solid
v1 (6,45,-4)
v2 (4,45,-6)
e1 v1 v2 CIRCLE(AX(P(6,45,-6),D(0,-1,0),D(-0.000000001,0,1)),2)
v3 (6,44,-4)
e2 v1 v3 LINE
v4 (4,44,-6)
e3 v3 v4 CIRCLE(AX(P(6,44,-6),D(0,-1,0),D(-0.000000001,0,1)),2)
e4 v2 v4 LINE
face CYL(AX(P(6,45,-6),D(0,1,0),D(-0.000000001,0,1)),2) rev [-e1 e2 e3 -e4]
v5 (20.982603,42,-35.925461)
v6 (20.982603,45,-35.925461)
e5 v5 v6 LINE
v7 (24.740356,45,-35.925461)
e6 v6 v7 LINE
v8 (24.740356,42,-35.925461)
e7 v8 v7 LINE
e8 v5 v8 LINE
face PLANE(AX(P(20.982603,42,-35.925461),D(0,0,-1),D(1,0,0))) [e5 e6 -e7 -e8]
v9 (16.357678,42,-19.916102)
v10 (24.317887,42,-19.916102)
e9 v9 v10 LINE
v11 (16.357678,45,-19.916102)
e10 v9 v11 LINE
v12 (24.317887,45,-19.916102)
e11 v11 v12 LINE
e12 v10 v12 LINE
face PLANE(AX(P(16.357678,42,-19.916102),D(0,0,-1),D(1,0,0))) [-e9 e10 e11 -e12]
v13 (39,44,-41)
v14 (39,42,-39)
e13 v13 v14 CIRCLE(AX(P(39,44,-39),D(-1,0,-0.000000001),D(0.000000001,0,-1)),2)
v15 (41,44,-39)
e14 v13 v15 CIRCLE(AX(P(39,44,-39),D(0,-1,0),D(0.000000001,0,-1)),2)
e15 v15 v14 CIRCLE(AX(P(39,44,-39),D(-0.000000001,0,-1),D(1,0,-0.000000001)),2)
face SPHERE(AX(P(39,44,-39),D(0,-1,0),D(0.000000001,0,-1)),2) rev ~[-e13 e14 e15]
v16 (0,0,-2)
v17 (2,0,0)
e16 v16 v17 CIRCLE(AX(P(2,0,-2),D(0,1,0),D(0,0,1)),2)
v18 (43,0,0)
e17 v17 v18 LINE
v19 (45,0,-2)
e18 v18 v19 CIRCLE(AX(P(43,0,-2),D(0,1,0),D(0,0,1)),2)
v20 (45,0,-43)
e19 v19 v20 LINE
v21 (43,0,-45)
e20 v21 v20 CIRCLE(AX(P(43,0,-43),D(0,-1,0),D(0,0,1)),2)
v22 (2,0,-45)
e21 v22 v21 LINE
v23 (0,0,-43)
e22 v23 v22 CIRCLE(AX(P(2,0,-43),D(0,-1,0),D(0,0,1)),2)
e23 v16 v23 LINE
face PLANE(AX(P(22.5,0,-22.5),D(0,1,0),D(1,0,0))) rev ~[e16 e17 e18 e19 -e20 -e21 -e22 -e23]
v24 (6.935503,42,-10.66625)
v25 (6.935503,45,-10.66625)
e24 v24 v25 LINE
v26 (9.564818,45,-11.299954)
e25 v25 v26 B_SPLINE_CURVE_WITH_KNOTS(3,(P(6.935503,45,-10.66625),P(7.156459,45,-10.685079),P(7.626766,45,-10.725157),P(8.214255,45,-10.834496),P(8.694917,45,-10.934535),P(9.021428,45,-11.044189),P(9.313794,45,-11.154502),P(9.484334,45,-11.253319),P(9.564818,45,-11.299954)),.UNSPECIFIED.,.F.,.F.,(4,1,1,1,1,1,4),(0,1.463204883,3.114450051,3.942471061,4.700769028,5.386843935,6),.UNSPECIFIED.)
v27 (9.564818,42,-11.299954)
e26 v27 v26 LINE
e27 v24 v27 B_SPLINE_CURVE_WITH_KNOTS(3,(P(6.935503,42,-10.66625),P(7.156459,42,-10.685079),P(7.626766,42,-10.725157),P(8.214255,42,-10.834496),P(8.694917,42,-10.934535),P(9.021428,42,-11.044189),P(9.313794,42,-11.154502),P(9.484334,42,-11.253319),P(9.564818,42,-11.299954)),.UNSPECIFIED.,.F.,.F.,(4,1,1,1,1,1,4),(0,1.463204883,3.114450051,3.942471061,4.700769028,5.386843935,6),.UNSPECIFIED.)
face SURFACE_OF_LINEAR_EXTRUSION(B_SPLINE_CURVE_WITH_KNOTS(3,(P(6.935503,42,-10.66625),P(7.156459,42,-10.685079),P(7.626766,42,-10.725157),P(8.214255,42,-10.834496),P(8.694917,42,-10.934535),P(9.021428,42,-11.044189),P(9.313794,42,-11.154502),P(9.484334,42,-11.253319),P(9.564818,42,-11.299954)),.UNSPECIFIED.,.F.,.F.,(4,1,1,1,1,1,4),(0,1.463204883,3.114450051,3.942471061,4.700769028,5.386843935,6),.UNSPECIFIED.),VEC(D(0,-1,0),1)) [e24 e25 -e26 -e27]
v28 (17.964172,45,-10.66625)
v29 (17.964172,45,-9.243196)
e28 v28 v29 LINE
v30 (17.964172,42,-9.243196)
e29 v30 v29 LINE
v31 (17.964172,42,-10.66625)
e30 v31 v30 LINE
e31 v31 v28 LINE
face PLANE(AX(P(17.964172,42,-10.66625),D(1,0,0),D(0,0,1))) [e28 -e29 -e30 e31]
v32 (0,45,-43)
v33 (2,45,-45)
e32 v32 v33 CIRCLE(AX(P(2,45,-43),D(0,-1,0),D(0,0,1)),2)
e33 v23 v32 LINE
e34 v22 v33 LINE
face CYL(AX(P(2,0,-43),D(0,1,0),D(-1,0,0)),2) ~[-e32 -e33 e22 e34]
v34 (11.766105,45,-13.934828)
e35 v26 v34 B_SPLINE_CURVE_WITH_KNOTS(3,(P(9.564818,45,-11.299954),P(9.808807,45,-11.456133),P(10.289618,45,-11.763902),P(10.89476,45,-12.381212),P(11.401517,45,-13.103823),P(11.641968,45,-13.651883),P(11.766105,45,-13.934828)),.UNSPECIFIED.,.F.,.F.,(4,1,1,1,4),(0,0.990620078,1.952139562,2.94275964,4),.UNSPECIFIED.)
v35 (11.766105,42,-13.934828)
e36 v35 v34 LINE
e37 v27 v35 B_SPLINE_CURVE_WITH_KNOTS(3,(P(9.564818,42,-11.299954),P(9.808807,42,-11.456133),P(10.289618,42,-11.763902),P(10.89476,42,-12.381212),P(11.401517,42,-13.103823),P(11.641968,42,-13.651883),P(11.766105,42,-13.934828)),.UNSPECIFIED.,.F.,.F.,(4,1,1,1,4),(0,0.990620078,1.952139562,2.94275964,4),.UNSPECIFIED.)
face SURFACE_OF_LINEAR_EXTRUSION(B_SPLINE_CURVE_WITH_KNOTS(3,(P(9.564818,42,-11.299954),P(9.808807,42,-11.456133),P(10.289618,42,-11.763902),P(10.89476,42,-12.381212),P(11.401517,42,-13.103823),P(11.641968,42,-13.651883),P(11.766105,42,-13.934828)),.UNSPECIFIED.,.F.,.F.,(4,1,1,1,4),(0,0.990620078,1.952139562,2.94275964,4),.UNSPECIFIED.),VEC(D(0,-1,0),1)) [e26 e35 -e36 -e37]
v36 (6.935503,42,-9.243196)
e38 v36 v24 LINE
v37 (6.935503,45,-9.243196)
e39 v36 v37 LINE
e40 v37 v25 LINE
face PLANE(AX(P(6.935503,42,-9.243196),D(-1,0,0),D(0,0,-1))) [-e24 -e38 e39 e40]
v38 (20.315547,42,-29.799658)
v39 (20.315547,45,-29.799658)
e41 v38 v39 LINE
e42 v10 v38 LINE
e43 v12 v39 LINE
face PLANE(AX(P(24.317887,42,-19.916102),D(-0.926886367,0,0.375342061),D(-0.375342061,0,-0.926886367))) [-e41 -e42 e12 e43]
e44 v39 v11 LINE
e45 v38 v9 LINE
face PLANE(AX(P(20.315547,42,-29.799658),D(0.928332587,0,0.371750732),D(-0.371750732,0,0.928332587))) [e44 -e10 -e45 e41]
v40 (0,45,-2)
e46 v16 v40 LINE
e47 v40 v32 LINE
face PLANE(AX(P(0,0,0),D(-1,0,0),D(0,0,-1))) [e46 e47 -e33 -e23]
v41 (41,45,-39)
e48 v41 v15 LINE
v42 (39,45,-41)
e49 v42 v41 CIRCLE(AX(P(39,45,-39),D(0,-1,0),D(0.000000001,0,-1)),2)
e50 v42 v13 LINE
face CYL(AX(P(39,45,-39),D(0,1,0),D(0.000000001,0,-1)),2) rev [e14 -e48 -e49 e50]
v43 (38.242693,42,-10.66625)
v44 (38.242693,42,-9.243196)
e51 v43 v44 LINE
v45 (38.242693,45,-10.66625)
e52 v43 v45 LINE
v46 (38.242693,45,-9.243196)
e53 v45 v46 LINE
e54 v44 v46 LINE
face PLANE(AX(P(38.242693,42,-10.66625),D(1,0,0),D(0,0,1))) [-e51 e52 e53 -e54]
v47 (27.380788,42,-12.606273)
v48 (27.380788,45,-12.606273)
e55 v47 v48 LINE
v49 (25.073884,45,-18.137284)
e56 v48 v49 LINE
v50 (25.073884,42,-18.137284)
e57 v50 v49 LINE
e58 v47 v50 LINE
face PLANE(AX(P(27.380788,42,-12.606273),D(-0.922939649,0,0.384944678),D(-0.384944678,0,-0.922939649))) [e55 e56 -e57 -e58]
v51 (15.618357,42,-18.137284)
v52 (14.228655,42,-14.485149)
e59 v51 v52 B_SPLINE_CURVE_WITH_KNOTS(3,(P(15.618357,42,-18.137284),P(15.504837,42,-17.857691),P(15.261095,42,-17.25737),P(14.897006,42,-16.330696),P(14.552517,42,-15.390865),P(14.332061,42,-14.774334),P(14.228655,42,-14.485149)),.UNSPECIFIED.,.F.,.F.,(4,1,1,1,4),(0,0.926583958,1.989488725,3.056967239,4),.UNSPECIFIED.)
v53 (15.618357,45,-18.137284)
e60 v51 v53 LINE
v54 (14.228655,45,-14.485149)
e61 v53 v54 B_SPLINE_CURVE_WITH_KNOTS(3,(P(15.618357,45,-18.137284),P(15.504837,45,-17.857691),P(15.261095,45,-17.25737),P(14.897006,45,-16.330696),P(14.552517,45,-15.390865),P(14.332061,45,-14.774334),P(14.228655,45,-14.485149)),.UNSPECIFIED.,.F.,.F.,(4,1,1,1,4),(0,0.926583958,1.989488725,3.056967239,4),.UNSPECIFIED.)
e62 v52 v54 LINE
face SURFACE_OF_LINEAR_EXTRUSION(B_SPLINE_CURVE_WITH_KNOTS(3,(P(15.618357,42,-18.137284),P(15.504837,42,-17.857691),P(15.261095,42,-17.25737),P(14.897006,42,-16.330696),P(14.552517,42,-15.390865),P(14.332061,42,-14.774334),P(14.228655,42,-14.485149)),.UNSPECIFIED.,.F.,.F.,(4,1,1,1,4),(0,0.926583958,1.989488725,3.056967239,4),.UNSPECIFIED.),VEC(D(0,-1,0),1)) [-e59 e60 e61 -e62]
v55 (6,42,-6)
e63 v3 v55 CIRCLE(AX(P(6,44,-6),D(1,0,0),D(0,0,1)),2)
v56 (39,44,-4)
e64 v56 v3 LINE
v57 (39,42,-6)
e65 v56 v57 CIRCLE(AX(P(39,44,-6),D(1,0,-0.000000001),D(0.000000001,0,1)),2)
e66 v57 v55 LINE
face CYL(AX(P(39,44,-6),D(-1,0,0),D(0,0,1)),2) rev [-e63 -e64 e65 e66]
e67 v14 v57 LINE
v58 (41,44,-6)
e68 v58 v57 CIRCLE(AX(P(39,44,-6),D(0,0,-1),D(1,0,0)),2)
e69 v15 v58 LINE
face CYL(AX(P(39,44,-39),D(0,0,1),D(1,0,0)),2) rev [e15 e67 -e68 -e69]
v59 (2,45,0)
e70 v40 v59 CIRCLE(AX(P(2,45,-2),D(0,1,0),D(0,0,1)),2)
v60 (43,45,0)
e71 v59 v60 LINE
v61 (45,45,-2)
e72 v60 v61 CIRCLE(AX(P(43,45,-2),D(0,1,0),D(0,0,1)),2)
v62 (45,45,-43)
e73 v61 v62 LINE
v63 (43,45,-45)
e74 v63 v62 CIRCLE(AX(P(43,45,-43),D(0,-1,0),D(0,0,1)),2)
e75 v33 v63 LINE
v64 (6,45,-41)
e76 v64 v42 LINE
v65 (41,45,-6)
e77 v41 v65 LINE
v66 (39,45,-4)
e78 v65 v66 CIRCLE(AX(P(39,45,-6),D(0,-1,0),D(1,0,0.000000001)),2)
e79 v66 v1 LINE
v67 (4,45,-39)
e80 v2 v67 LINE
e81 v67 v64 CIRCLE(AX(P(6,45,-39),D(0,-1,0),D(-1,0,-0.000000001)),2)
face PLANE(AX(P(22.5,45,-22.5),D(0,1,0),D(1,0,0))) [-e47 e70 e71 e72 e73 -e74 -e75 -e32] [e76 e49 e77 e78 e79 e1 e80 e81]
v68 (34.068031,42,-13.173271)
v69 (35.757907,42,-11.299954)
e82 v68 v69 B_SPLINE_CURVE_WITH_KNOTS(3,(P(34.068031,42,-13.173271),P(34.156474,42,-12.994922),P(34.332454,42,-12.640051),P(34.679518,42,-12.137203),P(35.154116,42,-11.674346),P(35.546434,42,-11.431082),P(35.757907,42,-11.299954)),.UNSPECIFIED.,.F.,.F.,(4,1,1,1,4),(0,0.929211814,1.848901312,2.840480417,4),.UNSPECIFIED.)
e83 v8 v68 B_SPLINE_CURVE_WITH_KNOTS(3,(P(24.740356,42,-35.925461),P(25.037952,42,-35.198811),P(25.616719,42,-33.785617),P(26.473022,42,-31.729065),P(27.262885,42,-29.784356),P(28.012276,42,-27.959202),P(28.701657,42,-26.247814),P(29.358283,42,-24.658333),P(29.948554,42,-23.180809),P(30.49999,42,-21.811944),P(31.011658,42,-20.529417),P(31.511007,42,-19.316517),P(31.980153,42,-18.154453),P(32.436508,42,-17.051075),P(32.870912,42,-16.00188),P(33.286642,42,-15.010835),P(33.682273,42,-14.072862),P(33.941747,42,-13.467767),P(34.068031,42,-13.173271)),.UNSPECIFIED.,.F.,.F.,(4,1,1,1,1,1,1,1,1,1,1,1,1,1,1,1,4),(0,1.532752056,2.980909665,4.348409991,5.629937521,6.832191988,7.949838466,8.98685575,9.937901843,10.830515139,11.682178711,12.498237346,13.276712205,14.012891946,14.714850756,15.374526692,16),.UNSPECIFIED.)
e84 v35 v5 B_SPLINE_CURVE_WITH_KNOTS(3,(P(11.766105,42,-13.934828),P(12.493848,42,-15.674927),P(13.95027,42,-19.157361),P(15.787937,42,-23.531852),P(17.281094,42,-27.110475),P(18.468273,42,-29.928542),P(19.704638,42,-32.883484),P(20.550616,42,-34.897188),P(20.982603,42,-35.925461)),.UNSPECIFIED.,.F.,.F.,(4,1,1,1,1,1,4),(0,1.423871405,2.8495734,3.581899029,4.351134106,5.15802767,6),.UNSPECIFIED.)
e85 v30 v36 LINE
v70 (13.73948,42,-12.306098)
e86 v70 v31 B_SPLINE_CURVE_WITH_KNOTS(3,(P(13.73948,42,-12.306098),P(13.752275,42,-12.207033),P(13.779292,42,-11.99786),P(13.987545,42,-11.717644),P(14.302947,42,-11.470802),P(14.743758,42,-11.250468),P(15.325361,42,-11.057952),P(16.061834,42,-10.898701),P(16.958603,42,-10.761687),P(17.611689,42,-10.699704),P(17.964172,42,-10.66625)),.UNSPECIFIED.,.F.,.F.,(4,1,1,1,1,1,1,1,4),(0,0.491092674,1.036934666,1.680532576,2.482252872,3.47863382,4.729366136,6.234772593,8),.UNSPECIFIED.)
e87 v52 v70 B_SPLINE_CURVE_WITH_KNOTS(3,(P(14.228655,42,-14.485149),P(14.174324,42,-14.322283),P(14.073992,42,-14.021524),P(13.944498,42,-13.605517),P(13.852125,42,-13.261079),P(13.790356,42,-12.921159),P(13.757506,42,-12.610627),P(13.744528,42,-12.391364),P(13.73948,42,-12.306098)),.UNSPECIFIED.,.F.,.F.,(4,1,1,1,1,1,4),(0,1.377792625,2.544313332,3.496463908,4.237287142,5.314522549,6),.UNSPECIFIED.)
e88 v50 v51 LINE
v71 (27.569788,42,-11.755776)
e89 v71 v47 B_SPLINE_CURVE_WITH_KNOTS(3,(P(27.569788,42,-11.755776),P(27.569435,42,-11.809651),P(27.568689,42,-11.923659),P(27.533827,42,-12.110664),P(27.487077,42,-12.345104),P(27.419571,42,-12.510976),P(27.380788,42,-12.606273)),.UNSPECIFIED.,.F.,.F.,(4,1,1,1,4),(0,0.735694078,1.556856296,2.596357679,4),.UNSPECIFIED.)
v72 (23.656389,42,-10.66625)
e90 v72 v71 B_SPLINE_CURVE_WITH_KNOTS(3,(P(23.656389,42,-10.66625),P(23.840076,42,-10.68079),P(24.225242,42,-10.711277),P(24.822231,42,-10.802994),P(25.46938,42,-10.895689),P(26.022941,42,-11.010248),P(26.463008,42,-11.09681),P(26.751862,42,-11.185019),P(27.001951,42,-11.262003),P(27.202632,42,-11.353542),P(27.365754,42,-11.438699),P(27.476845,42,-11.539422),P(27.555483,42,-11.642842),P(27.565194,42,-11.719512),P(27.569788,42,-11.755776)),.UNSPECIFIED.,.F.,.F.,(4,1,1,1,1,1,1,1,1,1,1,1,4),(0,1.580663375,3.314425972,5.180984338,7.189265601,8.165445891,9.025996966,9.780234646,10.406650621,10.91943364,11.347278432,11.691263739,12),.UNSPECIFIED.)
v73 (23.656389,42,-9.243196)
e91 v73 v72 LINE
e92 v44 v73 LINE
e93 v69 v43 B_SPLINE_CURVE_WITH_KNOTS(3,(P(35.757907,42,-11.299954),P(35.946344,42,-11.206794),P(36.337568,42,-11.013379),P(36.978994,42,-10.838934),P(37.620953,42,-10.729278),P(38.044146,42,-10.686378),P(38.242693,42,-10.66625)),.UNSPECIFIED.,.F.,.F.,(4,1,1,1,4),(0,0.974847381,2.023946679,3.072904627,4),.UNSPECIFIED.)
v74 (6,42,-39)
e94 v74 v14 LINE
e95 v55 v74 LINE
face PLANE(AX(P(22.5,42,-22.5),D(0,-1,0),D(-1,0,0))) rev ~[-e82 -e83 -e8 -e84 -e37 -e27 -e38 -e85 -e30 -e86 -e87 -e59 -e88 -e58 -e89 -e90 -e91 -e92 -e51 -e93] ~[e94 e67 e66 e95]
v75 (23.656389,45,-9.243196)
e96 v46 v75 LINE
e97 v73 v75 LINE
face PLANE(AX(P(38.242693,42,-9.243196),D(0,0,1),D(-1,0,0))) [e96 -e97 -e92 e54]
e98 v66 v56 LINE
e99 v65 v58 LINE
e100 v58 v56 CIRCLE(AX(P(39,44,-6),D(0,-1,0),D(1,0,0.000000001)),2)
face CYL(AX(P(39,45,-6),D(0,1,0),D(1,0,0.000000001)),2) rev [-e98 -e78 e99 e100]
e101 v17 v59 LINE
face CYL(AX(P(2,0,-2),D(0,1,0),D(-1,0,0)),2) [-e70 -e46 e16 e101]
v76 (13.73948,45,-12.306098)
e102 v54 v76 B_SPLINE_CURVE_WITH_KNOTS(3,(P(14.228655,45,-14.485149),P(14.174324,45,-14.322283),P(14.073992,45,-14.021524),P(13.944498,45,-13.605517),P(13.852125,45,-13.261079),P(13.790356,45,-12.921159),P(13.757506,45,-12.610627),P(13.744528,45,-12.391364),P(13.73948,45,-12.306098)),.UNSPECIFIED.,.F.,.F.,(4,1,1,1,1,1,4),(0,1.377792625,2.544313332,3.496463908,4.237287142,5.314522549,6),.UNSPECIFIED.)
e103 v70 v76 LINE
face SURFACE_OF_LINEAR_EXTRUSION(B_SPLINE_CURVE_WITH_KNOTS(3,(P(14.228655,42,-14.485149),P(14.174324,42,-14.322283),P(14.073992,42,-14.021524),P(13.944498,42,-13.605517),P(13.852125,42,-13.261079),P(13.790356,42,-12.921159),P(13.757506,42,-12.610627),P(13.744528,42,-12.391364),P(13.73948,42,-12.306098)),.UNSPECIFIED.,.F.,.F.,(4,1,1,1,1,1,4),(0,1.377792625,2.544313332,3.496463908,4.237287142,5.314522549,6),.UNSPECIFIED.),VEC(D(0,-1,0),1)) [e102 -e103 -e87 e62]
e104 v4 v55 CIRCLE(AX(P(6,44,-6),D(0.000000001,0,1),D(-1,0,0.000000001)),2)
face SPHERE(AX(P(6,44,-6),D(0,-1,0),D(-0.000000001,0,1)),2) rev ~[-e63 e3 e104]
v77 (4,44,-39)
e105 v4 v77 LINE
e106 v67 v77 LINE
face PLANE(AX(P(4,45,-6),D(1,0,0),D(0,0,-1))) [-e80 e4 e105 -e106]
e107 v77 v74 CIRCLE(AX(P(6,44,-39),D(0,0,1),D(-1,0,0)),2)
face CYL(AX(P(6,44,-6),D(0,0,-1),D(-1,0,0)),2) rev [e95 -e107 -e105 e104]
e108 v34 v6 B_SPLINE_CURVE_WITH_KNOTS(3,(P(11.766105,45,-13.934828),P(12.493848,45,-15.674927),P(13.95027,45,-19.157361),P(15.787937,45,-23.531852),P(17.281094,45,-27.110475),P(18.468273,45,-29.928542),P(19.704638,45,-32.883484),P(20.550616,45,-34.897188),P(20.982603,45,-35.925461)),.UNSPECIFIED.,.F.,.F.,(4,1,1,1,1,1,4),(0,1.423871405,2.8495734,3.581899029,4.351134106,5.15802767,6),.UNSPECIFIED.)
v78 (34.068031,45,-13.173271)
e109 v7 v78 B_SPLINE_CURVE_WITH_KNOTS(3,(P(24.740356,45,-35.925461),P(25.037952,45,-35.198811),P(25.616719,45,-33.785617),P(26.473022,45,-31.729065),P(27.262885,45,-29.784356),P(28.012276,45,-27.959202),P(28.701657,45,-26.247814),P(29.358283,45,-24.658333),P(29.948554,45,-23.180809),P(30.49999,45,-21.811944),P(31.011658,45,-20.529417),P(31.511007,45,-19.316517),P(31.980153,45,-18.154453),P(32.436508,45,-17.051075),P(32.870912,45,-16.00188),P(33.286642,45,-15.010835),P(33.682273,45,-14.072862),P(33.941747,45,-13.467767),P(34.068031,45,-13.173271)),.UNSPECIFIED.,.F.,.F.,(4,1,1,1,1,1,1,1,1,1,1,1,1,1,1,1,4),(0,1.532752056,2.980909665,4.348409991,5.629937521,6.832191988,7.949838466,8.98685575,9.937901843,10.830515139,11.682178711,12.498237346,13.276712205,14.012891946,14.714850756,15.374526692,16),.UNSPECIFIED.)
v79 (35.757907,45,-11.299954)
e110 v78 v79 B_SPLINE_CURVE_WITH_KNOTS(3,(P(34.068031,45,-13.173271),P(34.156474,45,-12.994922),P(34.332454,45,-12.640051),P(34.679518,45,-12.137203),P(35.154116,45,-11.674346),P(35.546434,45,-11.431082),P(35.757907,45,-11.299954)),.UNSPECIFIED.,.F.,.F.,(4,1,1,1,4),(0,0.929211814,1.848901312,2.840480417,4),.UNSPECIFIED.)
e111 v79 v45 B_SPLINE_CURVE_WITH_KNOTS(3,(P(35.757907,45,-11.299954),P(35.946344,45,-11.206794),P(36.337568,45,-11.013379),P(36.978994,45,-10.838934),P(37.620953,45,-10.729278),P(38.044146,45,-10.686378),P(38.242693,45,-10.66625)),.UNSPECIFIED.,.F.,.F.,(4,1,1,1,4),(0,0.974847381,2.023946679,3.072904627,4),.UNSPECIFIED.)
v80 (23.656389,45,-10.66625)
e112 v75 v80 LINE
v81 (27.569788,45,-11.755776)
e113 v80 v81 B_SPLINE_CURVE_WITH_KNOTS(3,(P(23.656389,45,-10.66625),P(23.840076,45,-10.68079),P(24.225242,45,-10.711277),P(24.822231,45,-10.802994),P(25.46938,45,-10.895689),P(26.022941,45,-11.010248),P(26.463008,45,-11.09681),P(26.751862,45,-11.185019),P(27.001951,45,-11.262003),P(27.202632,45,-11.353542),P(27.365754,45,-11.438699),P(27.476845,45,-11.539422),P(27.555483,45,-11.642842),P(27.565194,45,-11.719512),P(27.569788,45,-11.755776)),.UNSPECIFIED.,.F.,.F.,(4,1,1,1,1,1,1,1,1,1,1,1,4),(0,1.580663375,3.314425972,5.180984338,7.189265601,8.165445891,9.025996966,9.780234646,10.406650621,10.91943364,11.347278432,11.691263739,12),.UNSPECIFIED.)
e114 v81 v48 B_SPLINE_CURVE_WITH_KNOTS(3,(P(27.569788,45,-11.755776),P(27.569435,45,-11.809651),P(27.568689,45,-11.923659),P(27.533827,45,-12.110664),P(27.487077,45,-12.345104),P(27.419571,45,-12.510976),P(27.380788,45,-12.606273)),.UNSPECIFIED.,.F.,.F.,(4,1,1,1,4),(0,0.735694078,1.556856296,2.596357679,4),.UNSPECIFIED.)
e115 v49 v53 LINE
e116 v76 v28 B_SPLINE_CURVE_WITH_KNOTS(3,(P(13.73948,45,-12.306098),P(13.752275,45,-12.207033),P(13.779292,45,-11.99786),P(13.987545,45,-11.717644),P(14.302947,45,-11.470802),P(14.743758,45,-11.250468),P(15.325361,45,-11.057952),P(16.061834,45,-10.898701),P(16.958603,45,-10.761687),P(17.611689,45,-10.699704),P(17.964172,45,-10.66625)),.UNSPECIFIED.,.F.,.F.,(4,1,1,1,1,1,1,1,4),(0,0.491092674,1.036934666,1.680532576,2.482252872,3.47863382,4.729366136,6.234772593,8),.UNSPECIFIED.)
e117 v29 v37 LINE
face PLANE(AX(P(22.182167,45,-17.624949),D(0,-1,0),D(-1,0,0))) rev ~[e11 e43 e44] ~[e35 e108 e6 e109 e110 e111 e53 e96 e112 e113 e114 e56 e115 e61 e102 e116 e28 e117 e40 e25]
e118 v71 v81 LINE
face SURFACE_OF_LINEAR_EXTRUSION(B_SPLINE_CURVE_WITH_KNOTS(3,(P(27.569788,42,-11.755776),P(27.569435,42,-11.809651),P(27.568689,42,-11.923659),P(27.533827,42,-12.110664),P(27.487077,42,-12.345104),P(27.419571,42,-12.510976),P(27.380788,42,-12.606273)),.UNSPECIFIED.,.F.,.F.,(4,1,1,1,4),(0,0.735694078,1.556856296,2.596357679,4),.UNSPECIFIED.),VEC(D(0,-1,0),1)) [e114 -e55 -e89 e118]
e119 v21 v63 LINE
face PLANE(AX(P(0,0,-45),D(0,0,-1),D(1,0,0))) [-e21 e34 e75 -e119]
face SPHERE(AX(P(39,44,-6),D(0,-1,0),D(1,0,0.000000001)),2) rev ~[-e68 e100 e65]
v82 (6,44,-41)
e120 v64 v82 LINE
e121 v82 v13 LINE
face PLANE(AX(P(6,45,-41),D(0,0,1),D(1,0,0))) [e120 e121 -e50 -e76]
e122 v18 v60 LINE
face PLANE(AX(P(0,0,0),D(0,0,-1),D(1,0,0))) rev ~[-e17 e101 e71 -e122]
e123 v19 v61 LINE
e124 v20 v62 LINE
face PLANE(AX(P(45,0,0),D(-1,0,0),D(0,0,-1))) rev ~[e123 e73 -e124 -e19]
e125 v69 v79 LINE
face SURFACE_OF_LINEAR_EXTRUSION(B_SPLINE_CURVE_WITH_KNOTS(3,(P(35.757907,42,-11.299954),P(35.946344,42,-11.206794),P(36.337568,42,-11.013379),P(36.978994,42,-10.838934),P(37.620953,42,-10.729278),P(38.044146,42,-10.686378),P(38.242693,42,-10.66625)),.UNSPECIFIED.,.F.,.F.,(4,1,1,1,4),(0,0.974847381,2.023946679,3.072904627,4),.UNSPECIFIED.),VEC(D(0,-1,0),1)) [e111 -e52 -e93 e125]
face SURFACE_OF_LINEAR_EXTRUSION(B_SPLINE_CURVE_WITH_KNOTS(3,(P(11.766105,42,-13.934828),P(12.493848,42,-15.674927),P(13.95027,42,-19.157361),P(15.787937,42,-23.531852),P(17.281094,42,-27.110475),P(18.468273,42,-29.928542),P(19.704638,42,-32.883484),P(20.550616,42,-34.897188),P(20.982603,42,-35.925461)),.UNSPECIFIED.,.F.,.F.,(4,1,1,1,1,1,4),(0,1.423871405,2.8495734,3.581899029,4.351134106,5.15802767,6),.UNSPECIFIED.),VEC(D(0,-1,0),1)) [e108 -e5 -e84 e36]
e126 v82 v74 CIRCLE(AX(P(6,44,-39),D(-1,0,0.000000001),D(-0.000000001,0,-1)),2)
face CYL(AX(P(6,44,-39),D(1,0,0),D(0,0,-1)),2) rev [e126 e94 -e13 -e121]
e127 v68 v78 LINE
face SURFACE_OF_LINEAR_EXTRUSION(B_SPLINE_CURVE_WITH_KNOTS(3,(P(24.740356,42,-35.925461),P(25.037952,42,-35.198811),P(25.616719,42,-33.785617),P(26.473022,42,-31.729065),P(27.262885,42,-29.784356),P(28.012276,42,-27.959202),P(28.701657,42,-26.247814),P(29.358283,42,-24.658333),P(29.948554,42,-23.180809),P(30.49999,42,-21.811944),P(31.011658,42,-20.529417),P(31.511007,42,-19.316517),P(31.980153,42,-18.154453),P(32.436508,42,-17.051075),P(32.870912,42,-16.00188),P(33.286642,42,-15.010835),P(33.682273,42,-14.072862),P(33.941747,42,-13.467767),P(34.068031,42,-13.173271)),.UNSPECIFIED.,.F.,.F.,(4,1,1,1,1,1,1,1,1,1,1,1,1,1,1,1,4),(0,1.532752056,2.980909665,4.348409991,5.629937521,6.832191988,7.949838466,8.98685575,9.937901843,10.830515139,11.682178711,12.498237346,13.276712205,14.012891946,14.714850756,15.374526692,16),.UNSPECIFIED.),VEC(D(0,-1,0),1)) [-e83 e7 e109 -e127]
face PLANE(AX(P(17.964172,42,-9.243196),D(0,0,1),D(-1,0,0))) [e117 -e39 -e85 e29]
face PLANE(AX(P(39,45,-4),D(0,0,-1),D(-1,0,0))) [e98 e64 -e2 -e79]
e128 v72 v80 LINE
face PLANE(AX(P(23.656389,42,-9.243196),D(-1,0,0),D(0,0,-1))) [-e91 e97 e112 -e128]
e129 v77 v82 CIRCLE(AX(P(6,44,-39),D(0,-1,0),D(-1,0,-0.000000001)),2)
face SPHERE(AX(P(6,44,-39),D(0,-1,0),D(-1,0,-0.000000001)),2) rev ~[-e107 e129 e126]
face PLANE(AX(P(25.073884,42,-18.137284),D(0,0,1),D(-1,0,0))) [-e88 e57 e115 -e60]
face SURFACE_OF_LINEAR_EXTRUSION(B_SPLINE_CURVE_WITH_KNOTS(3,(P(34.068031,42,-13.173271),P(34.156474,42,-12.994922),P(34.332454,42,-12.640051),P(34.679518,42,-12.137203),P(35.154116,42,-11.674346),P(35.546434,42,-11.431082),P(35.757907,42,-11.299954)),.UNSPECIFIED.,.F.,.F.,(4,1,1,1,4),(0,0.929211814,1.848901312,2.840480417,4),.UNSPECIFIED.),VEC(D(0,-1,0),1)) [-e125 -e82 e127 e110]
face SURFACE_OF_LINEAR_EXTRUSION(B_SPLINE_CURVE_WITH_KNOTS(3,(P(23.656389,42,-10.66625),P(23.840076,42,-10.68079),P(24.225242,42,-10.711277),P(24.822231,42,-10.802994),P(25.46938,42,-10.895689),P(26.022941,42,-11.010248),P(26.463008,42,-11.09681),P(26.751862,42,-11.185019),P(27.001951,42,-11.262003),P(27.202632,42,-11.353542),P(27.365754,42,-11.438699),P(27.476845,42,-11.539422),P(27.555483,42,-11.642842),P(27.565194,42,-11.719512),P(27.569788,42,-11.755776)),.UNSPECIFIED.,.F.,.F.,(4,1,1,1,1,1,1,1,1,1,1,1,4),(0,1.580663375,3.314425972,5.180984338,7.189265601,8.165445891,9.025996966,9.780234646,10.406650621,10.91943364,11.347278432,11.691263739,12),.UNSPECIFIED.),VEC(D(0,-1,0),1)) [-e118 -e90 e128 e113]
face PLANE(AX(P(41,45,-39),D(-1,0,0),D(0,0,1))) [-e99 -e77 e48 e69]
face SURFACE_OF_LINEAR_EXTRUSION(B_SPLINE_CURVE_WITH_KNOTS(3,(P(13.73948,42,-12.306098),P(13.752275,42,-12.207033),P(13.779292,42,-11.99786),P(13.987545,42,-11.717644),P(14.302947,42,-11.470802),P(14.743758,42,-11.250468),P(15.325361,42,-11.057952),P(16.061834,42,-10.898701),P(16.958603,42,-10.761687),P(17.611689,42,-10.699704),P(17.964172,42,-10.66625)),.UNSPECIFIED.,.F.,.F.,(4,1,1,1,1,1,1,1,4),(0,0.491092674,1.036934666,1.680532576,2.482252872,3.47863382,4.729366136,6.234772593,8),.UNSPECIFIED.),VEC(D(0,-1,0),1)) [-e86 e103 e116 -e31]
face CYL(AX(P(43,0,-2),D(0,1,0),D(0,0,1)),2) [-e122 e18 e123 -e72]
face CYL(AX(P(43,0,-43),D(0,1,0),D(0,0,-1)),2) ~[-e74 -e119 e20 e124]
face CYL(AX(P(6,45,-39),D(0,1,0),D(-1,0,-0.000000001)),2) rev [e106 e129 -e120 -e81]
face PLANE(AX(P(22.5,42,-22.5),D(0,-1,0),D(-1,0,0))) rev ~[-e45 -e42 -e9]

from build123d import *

# Parameters (mm, degrees)
SKETCH1_W           = 45
SKETCH1_H           = 45
BOSS_EXTRUDE1_DEPTH = 45
CUT_EXTRUDE1_DEPTH  = 3
FILLET1_R           = 2
BOSS_EXTRUDE2_DEPTH = 3
FILLET2_R           = 2
FILLET3_R           = 2


with BuildPart() as part:
    # Sketch1 → Boss-Extrude1 (new body)
    with BuildSketch(Plane(origin=(0, 0, 0), x_dir=(1, 0, 0), z_dir=(0, 1, 0))):
        with Locations((22.5, 22.5)):
            Rectangle(SKETCH1_W, SKETCH1_H)
    extrude(amount=BOSS_EXTRUDE1_DEPTH)

    # Sketch2 → Cut-Extrude1 (cut)
    with BuildSketch(Plane(origin=(0, 45, 0), x_dir=(1, 0, 0), z_dir=(0, 1, 0))):
        with BuildLine():
            Line((6, 41), (39, 41))
            ThreePointArc((39, 41), (40.414213562, 40.414213562), (41, 39))
            Line((41, 39), (41, 6))
            ThreePointArc((41, 6), (40.414213562, 4.585786438), (39, 4))
            Line((39, 4), (6, 4))
            ThreePointArc((6, 4), (4.585786438, 4.585786438), (4, 6))
            Line((4, 6), (4, 39))
            ThreePointArc((4, 39), (4.585786438, 40.414213562), (6, 41))
        make_face()
    extrude(amount=-CUT_EXTRUDE1_DEPTH, mode=Mode.SUBTRACT)

    # Fillet1
    fillet1_edges = [part.edges().sort_by_distance(p)[0] for p in [
        (40.414213562, 42, -40.414213562),
        (41, 42, -22.5),
        (40.414213562, 42, -4.585786438),
        (22.5, 42, -4),
        (4.585786438, 42, -4.585786438),
        (4, 42, -22.5),
        (4.585786438, 42, -40.414213562),
        (22.5, 42, -41),
    ]]
    fillet(fillet1_edges, radius=FILLET1_R)

    # Sketch3 → Boss-Extrude2 (add)
    with BuildSketch(Plane(origin=(0, 42, 0), x_dir=(1, 0, 0), z_dir=(0, 1, 0))):
        with BuildLine():
            Line((38.242693353, 9.243196233), (23.656388738, 9.243196233))
            Line((23.656388738, 9.243196233), (23.656388738, 10.666250342))
            add(Edge.make_bspline(
                [(23.656388738, 10.666250342), (23.840076099, 10.68078989), (24.225242332, 10.711277253), (24.822230957, 10.802993535), (25.469379926, 10.895689338), (26.022940834, 11.010248275), (26.463008214, 11.096809674), (26.751861609, 11.185019051), (27.001950694, 11.262002653), (27.202632415, 11.353541525), (27.365753511, 11.438699124), (27.476844631, 11.539421658), (27.55548257, 11.642841951), (27.565194032, 11.719511547), (27.569787537, 11.755776144)],
                knots=[0, 0, 0, 0, 1.580663375, 3.314425972, 5.180984338, 7.189265601, 8.165445891, 9.025996966, 9.780234646, 10.406650621, 10.91943364, 11.347278432, 11.691263739, 12, 12, 12, 12], degree=3))
            add(Edge.make_bspline(
                [(27.569787537, 11.755776144), (27.569435107, 11.809650716), (27.568689302, 11.923658657), (27.533827132, 12.110664377), (27.487076537, 12.345104426), (27.419571412, 12.510976182), (27.380788164, 12.606273326)],
                knots=[0, 0, 0, 0, 0.735694078, 1.556856296, 2.596357679, 4, 4, 4, 4], degree=3))
            Line((27.380788164, 12.606273326), (25.073884042, 18.137284413))
            Line((25.073884042, 18.137284413), (15.618356546, 18.137284413))
            add(Edge.make_bspline(
                [(15.618356546, 18.137284413), (15.504836551, 17.857690943), (15.261095281, 17.257369675), (14.897005839, 16.330696191), (14.552517174, 15.390865424), (14.332060663, 14.774334183), (14.228655267, 14.485149454)],
                knots=[0, 0, 0, 0, 0.926583958, 1.989488725, 3.056967239, 4, 4, 4, 4], degree=3))
            add(Edge.make_bspline(
                [(14.228655267, 14.485149454), (14.174323811, 14.322282922), (14.073992132, 14.021523953), (13.944497555, 13.605517058), (13.852124744, 13.261079178), (13.790356149, 12.921159244), (13.757506332, 12.61062748), (13.744527557, 12.391364177), (13.739480418, 12.30609785)],
                knots=[0, 0, 0, 0, 1.377792625, 2.544313332, 3.496463908, 4.237287142, 5.314522549, 6, 6, 6, 6], degree=3))
            add(Edge.make_bspline(
                [(13.739480418, 12.30609785), (13.752275343, 12.20703328), (13.779291631, 11.997859957), (13.987544963, 11.717644303), (14.302946626, 11.47080153), (14.743758449, 11.250468253), (15.325360636, 11.057952059), (16.061834345, 10.898701284), (16.958602595, 10.761686661), (17.611688564, 10.699703767), (17.964172303, 10.666250342)],
                knots=[0, 0, 0, 0, 0.491092674, 1.036934666, 1.680532576, 2.482252872, 3.47863382, 4.729366136, 6.234772593, 8, 8, 8, 8], degree=3))
            Line((17.964172303, 10.666250342), (17.964172303, 9.243196233))
            Line((17.964172303, 9.243196233), (6.93550296, 9.243196233))
            Line((6.93550296, 9.243196233), (6.93550296, 10.666250342))
            add(Edge.make_bspline(
                [(6.93550296, 10.666250342), (7.156458841, 10.68507928), (7.626766221, 10.725156912), (8.214255419, 10.83449568), (8.694916504, 10.934535131), (9.021428402, 11.044189086), (9.31379367, 11.154502307), (9.484333571, 11.253318866), (9.564817778, 11.299954125)],
                knots=[0, 0, 0, 0, 1.463204883, 3.114450051, 3.942471061, 4.700769028, 5.386843935, 6, 6, 6, 6], degree=3))
            add(Edge.make_bspline(
                [(9.564817778, 11.299954125), (9.808806898, 11.456132653), (10.289617679, 11.763901787), (10.894760398, 12.38121249), (11.401516748, 13.103822817), (11.641967893, 13.651883003), (11.766104603, 13.934827748)],
                knots=[0, 0, 0, 0, 0.990620078, 1.952139562, 2.94275964, 4, 4, 4, 4], degree=3))
            add(Edge.make_bspline(
                [(11.766104603, 13.934827748), (12.49384773, 15.674926569), (13.950269602, 19.157361354), (15.787937069, 23.531851641), (17.281093989, 27.110474834), (18.468273477, 29.928542487), (19.704638443, 32.883483751), (20.55061589, 34.89718826), (20.982603479, 35.925460773)],
                knots=[0, 0, 0, 0, 1.423871405, 2.8495734, 3.581899029, 4.351134106, 5.15802767, 6, 6, 6, 6], degree=3))
            Line((20.982603479, 35.925460773), (24.740355735, 35.925460773))
            add(Edge.make_bspline(
                [(24.740355735, 35.925460773), (25.037951878, 35.198811204), (25.616719472, 33.785616739), (26.473021768, 31.729065196), (27.262884583, 29.784355708), (28.012276259, 27.959201793), (28.701657163, 26.247813786), (29.358282986, 24.658333454), (29.948553903, 23.180808533), (30.499990304, 21.811943928), (31.011657569, 20.529416983), (31.511007395, 19.316516594), (31.980152709, 18.154453259), (32.436507788, 17.051074697), (32.870912199, 16.001880065), (33.286642483, 15.010835315), (33.682273223, 14.072862205), (33.941746737, 13.467767085), (34.068030714, 13.173271448)],
                knots=[0, 0, 0, 0, 1.532752056, 2.980909665, 4.348409991, 5.629937521, 6.832191988, 7.949838466, 8.98685575, 9.937901843, 10.830515139, 11.682178711, 12.498237346, 13.276712205, 14.012891946, 14.714850756, 15.374526692, 16, 16, 16, 16], degree=3))
            add(Edge.make_bspline(
                [(34.068030714, 13.173271448), (34.156473839, 12.994922089), (34.332453747, 12.640051048), (34.679517564, 12.137203398), (35.154116348, 11.674345926), (35.54643409, 11.431082086), (35.757907468, 11.299954125)],
                knots=[0, 0, 0, 0, 0.929211814, 1.848901312, 2.840480417, 4, 4, 4, 4], degree=3))
            add(Edge.make_bspline(
                [(35.757907468, 11.299954125), (35.94634352, 11.206794224), (36.337568372, 11.013378643), (36.978994102, 10.838934171), (37.620953448, 10.729278261), (38.044146103, 10.686377762), (38.242693353, 10.666250342)],
                knots=[0, 0, 0, 0, 0.974847381, 2.023946679, 3.072904627, 4, 4, 4, 4], degree=3))
            Line((38.242693353, 10.666250342), (38.242693353, 9.243196233))
        make_face()
        Polygon((24.317886547, 19.916102049), (20.315546866, 29.799657539), (16.357677626, 19.916102049), align=None, mode=Mode.SUBTRACT)
    extrude(amount=BOSS_EXTRUDE2_DEPTH)

    # Fillet2
    fillet2_edges = [part.edges().sort_by_distance(p)[0] for p in [
        (45, 22.5, -45),
        (45, 22.5, 0),
        (0, 22.5, 0),
    ]]
    fillet(fillet2_edges, radius=FILLET2_R)

    # Fillet3
    fillet3_edges = [part.edges().sort_by_distance(p)[0] for p in [
        (0, 22.5, -45),
    ]]
    fillet(fillet3_edges, radius=FILLET3_R)


solid = part.part
